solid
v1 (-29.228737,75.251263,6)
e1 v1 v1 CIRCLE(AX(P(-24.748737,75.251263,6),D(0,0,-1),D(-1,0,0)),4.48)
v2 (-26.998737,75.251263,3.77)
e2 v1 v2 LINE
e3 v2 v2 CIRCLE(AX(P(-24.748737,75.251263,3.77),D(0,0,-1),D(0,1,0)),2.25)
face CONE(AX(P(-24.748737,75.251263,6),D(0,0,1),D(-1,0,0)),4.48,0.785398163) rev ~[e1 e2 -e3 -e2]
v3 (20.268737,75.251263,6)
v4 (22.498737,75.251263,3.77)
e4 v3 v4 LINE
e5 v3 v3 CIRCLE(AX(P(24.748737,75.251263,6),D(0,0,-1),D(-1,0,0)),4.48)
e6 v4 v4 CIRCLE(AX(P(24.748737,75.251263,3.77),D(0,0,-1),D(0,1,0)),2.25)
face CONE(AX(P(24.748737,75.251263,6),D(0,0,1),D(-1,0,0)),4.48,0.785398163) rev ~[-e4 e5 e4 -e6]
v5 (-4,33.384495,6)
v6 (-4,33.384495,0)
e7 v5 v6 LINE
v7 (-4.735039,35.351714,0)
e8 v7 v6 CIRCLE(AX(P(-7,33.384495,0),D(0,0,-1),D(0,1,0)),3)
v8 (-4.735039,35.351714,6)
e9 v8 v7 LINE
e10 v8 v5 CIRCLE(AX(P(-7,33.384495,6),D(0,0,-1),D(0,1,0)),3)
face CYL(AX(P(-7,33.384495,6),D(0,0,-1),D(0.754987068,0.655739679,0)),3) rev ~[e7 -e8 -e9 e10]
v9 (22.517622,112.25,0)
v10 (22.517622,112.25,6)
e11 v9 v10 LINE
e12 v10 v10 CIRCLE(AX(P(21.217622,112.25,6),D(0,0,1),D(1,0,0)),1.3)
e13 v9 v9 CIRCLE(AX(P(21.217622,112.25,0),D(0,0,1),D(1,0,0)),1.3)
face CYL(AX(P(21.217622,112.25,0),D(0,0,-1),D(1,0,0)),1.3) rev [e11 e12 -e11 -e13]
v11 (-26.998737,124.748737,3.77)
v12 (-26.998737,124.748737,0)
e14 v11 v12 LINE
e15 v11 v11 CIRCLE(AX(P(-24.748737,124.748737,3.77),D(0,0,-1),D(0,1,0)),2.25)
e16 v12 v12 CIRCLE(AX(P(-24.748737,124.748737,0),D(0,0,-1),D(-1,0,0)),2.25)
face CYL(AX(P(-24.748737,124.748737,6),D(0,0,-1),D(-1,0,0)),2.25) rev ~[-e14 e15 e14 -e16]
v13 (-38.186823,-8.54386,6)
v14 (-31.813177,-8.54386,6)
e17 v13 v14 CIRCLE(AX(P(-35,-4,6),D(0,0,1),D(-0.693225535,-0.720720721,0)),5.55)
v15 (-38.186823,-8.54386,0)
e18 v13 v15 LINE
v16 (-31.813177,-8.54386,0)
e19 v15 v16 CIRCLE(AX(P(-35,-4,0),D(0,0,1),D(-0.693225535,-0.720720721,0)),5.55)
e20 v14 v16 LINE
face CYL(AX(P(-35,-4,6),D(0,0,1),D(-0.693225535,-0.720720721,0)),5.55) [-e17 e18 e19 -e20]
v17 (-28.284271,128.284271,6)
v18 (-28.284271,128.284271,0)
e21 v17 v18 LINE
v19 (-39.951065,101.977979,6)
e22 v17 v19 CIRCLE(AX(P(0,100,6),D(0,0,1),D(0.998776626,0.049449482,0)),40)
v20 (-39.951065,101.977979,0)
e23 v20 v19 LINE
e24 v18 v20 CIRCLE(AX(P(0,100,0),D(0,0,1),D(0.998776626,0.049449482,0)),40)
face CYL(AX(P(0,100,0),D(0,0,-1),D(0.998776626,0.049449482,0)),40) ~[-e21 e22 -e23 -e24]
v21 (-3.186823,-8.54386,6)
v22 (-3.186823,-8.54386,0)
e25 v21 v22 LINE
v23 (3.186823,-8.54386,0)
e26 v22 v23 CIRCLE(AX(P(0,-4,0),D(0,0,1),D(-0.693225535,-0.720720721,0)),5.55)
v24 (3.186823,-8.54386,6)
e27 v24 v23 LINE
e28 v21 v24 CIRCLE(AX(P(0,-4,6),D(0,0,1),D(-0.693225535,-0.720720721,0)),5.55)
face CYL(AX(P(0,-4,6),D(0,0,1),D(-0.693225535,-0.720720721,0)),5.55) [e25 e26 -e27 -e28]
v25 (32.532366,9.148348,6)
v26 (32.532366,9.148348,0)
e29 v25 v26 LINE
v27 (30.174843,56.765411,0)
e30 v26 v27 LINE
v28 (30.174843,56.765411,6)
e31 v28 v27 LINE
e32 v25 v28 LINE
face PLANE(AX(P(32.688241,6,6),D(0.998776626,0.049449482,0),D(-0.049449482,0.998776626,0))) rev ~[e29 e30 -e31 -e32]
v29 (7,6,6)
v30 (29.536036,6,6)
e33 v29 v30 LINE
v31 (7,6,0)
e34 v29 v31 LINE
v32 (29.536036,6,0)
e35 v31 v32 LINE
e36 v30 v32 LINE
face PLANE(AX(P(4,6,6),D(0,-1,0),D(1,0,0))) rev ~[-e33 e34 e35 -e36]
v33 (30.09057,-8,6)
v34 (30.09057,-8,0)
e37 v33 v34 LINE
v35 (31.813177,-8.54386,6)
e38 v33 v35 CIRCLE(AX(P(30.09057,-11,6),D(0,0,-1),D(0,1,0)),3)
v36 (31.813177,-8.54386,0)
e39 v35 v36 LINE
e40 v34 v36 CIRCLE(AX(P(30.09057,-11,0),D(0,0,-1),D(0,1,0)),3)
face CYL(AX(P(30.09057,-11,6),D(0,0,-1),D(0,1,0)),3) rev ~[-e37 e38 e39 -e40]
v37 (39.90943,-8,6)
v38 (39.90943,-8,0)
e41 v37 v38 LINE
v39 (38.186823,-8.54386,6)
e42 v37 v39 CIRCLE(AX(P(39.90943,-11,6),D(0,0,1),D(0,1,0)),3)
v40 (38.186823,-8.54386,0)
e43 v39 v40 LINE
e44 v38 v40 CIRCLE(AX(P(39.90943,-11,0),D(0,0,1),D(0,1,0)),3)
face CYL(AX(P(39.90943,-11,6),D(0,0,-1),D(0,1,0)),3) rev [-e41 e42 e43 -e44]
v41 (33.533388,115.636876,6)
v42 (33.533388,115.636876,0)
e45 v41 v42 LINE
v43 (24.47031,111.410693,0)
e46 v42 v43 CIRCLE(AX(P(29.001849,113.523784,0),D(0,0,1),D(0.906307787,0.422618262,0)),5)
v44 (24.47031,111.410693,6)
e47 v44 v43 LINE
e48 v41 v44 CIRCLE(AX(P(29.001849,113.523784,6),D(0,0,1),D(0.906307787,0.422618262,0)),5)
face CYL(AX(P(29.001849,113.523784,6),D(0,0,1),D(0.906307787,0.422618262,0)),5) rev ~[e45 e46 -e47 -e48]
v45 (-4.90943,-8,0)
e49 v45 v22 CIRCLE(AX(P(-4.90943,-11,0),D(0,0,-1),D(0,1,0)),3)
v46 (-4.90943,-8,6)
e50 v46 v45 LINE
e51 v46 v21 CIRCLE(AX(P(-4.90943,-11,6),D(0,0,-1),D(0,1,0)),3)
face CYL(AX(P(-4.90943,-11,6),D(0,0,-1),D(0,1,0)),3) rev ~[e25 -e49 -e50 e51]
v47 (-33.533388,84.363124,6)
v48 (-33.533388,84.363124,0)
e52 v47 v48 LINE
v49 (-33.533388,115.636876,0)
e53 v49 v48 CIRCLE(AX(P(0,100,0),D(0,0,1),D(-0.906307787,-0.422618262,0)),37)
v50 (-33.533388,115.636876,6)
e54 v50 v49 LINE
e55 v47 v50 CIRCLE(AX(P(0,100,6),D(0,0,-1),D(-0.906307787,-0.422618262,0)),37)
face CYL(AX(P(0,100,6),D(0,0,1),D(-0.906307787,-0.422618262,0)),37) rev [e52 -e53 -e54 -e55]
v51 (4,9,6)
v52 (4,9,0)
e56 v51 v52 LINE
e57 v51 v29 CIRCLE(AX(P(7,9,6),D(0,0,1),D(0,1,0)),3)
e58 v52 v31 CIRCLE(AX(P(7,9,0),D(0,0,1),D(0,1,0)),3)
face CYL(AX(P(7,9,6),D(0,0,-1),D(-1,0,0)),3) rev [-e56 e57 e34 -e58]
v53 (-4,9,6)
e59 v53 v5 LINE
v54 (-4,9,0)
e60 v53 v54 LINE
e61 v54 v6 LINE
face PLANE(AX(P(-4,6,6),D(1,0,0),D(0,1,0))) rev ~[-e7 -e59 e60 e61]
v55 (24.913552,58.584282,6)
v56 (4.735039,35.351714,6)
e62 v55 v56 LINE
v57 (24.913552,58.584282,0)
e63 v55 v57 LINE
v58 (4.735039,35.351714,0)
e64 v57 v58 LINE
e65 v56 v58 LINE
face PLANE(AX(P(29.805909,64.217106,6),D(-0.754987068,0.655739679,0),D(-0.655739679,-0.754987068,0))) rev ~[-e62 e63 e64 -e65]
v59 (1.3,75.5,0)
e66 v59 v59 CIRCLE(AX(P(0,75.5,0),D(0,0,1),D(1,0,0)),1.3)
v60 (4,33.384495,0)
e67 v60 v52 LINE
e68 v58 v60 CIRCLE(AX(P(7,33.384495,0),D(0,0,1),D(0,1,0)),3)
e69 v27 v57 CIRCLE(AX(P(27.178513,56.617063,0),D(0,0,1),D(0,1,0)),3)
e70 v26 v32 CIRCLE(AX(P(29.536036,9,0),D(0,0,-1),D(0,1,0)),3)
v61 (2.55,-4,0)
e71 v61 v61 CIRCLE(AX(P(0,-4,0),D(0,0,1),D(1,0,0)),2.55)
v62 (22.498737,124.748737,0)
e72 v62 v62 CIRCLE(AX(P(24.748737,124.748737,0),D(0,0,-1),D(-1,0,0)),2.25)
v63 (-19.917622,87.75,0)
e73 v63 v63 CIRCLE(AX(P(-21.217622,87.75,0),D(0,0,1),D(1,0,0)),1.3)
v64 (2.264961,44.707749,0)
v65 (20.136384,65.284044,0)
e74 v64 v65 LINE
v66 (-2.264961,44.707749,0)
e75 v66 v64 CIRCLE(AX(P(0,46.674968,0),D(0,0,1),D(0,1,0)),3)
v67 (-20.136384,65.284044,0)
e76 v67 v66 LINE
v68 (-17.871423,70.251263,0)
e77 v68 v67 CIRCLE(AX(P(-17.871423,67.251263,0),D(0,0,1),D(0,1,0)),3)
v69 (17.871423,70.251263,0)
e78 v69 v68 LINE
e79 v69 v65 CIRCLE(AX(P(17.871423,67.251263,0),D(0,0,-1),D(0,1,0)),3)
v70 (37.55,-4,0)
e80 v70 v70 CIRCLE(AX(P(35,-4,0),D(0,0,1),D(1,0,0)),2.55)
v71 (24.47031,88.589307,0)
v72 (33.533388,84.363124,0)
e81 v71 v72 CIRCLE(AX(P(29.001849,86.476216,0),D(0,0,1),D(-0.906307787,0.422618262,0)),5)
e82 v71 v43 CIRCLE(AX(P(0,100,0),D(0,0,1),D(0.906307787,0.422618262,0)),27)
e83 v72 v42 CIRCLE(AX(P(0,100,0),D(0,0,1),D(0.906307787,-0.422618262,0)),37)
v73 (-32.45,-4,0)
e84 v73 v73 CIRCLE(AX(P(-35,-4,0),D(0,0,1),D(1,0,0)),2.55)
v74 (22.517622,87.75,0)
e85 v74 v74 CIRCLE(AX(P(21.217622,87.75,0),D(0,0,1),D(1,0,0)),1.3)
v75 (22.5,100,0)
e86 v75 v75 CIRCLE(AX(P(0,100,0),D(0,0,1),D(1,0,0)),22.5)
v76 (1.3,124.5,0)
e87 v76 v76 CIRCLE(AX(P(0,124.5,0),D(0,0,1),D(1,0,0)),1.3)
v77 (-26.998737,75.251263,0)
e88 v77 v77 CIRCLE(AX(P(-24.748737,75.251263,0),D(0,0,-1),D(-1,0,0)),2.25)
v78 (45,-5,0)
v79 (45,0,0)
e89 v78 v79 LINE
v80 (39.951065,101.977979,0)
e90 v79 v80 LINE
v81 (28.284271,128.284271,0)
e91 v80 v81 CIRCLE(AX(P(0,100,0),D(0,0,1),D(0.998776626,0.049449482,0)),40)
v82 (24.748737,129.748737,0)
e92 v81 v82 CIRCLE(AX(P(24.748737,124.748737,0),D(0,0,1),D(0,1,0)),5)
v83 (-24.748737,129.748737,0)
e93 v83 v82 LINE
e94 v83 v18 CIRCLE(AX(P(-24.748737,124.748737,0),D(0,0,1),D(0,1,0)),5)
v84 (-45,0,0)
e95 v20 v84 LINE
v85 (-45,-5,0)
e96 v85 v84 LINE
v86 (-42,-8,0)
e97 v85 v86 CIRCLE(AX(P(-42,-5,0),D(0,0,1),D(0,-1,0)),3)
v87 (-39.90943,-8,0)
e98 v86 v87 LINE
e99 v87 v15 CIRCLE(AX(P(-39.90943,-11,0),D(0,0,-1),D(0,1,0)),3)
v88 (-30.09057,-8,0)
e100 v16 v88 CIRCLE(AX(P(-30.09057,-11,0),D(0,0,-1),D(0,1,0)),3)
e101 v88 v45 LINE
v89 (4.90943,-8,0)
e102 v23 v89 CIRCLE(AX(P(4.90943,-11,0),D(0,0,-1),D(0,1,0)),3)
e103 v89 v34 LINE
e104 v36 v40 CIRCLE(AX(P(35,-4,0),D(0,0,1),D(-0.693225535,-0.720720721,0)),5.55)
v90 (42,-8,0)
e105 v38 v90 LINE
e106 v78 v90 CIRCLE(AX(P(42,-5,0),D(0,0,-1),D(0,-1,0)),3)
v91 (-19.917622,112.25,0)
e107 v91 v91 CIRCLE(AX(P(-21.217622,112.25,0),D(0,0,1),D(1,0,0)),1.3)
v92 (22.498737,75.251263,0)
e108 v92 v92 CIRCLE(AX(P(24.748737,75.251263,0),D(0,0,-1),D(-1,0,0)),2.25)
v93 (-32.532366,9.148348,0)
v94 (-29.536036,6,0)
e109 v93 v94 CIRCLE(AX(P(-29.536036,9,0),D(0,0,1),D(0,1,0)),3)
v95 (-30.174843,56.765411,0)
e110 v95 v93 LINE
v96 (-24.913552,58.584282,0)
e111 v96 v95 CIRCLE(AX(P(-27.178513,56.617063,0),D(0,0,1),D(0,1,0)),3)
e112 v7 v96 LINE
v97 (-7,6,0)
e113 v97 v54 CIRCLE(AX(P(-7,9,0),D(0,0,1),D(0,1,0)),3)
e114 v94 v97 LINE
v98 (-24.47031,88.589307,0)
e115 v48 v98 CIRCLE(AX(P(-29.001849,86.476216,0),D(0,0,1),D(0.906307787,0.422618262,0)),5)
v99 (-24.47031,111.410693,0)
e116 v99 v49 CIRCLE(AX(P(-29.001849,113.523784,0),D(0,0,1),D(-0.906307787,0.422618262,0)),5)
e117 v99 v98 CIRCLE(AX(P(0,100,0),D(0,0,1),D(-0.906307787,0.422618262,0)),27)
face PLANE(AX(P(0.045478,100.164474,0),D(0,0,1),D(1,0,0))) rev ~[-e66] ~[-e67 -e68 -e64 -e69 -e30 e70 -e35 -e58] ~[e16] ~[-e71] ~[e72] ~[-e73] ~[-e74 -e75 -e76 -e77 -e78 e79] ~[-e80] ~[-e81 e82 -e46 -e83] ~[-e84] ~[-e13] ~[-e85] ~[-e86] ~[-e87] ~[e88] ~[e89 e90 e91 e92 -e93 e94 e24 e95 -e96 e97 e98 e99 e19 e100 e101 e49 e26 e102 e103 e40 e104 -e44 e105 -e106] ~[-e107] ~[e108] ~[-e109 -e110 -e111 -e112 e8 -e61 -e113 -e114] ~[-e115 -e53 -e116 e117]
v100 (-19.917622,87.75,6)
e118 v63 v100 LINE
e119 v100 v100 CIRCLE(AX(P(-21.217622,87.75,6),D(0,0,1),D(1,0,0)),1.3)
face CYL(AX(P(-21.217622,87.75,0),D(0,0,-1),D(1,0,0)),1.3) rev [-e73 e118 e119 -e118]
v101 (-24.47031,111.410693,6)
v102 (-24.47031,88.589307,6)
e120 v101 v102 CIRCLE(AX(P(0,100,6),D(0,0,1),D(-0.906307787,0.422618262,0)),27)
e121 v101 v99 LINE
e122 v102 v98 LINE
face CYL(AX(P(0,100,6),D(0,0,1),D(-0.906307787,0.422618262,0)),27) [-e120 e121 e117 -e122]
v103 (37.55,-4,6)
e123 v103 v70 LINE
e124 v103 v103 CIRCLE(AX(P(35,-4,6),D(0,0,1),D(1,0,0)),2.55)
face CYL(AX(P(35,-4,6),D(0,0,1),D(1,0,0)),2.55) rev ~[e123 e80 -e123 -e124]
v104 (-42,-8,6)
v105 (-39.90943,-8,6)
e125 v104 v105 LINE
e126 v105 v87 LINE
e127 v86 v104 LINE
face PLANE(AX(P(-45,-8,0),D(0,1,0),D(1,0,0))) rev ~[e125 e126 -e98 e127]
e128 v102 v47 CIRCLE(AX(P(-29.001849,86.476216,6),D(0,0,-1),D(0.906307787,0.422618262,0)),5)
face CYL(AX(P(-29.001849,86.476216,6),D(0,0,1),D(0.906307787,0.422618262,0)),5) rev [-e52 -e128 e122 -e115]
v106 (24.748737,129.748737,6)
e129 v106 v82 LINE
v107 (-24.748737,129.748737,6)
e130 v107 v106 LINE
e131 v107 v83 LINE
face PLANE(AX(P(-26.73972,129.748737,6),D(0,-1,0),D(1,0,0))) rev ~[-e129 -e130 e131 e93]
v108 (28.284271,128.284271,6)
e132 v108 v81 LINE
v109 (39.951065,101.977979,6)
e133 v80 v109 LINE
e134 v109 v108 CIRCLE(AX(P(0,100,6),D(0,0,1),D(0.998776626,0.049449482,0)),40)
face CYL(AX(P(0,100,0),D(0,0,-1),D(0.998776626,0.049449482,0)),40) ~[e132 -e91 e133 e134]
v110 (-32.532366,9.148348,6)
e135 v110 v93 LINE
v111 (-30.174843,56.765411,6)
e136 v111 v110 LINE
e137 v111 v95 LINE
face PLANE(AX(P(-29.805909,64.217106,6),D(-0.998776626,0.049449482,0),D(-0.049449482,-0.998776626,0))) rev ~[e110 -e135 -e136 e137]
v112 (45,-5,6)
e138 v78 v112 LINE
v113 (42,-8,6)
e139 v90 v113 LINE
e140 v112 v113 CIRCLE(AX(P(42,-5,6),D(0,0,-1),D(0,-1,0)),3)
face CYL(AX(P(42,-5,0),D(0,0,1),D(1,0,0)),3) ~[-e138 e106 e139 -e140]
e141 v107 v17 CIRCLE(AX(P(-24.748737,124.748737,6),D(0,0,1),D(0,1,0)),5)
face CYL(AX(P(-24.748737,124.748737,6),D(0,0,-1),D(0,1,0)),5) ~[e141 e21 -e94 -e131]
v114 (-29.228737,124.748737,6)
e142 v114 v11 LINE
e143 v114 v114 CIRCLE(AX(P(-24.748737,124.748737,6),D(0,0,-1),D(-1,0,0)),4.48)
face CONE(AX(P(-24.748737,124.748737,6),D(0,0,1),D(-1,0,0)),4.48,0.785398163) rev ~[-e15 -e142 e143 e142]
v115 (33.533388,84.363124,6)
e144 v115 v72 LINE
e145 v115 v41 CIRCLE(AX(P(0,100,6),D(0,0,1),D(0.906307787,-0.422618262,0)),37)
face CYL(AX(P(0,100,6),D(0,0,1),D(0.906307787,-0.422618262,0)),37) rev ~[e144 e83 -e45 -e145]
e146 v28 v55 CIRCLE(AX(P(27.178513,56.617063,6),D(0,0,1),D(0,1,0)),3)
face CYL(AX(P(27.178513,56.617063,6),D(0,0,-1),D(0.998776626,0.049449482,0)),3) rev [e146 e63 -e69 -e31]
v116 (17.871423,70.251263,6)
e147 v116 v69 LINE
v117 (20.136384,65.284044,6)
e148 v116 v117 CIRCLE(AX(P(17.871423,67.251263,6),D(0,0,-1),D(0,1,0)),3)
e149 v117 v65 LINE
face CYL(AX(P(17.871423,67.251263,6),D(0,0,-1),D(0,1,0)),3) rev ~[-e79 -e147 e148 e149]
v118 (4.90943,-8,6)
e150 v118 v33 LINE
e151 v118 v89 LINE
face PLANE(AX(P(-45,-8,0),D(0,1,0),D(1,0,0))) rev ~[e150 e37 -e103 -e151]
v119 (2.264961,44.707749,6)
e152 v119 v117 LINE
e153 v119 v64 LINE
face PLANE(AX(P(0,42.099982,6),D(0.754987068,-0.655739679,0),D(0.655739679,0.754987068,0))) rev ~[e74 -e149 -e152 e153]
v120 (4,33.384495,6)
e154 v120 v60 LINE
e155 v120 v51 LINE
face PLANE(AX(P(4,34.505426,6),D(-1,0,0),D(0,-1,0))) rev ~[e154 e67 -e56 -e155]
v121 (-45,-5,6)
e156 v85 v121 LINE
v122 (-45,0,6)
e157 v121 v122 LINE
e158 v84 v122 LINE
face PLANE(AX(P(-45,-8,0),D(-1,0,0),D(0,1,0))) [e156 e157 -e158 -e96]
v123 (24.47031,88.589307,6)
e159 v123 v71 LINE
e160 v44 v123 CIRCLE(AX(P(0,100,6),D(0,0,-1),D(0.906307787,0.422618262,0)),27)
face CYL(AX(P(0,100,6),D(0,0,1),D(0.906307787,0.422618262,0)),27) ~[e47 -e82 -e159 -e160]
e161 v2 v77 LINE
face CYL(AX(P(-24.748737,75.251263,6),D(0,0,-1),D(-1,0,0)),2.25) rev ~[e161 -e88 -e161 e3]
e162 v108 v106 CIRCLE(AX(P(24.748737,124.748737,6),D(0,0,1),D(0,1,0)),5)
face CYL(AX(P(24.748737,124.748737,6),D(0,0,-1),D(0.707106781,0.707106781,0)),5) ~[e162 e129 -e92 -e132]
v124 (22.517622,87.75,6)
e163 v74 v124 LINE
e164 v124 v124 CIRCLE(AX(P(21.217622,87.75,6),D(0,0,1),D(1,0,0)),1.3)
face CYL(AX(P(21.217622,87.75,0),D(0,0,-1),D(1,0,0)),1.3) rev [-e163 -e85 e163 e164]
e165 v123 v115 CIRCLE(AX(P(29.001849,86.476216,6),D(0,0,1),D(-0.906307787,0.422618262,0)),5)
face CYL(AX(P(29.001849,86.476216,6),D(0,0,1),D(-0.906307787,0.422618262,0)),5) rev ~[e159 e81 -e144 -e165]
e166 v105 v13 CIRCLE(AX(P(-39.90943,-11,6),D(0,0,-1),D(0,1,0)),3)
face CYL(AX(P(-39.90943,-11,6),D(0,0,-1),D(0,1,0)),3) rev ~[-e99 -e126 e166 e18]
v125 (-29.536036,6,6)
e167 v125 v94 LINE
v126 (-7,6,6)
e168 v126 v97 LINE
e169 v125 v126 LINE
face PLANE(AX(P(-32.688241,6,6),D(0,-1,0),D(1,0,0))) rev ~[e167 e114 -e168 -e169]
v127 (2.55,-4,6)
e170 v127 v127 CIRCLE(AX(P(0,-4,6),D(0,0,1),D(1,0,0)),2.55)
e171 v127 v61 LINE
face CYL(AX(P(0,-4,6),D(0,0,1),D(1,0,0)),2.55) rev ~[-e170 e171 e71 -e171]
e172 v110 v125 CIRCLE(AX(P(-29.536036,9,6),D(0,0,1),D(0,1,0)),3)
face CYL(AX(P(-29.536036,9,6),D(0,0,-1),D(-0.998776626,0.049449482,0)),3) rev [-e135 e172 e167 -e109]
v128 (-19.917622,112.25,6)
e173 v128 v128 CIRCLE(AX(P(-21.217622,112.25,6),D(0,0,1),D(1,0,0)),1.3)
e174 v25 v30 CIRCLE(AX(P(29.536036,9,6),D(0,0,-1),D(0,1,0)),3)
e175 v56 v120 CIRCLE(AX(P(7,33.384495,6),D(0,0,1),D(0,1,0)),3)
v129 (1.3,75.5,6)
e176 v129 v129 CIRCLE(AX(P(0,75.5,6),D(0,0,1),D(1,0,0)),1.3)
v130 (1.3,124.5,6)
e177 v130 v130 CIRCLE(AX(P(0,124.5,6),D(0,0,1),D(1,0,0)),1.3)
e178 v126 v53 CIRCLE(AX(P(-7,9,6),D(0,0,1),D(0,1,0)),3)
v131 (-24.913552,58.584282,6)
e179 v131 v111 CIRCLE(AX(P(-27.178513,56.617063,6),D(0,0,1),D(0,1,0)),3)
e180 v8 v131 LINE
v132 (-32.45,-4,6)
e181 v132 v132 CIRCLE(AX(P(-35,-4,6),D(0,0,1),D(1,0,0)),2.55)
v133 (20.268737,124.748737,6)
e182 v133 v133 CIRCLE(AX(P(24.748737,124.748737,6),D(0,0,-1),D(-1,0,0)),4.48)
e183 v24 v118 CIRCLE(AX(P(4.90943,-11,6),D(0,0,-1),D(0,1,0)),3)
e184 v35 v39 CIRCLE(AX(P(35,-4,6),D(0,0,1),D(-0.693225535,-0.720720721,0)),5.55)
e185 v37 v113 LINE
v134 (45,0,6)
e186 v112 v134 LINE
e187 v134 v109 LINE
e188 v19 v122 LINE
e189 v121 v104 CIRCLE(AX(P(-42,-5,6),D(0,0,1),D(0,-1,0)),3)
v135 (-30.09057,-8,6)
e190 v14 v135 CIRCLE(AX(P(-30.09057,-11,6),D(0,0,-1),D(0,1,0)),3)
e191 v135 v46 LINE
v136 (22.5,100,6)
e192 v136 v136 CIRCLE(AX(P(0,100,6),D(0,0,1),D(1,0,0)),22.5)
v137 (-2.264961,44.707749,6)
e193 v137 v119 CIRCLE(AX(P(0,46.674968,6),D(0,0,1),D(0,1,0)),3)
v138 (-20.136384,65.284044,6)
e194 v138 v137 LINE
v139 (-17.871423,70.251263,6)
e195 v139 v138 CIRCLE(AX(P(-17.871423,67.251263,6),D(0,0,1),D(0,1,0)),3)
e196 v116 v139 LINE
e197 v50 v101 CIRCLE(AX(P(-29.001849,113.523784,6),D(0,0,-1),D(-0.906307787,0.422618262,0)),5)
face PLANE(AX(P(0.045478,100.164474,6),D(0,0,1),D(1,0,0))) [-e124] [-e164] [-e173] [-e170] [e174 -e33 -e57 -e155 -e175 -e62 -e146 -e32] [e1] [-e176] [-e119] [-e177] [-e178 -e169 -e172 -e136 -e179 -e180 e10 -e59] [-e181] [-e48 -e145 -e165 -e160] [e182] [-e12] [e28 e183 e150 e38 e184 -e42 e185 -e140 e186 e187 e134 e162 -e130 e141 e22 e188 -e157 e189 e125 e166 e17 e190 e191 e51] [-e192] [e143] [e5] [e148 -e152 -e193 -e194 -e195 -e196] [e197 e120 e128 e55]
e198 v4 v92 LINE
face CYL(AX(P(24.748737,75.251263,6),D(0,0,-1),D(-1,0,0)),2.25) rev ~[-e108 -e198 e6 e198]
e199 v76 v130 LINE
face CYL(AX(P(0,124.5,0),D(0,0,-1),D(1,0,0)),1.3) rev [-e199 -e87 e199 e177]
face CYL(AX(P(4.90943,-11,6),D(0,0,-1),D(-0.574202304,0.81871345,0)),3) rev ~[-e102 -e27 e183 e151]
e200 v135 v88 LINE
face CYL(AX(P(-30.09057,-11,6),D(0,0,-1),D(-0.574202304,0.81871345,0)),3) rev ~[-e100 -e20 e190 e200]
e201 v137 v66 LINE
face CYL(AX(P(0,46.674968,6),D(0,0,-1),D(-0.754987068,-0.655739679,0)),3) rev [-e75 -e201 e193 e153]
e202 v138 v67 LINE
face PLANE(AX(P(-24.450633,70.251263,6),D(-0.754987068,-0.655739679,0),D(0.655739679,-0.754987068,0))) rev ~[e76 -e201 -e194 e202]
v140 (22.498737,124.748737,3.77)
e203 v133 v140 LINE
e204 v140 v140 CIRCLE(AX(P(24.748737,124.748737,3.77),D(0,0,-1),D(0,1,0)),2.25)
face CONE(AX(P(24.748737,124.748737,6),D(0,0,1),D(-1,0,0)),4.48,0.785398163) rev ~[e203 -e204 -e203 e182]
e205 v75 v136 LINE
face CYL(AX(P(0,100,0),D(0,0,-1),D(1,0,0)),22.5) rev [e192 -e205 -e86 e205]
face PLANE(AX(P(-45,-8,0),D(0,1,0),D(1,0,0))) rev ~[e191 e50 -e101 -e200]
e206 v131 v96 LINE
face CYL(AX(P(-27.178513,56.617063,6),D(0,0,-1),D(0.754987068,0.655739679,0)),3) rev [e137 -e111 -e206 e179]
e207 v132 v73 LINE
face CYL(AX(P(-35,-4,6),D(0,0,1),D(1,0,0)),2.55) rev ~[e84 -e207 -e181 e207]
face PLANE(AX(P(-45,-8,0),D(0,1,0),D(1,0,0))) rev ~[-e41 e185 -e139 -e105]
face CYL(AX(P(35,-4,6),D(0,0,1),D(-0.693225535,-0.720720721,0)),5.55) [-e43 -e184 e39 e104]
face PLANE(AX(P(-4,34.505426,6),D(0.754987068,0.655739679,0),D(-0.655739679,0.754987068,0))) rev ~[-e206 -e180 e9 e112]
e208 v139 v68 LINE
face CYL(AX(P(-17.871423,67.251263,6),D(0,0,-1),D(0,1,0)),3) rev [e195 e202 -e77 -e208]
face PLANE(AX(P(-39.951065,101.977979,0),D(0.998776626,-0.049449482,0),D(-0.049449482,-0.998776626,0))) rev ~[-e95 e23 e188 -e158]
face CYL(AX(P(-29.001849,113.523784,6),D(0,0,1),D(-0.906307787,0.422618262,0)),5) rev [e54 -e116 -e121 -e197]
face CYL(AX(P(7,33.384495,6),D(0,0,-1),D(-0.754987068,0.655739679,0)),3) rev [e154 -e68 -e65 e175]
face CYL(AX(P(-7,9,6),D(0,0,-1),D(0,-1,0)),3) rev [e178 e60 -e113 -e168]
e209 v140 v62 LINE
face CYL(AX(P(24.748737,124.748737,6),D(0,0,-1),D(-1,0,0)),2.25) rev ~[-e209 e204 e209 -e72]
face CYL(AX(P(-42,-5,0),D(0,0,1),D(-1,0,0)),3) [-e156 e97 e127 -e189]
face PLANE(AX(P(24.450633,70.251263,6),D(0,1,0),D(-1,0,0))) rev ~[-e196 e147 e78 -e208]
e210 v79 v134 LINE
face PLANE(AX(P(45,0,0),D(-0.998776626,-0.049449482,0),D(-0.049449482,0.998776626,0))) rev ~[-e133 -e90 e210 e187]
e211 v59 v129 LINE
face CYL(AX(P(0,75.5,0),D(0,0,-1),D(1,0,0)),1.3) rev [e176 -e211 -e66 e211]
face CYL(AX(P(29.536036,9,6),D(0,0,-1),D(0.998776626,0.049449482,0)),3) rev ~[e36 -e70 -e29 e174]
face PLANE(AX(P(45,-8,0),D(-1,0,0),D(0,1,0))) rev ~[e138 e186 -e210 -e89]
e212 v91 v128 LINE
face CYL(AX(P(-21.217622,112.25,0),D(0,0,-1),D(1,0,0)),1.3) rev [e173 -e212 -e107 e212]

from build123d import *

# Parameters (mm, degrees)
SKETCH_1_W                   = 90
SKETCH_1_H                   = 8
SKETCH_1_R                   = 2.1
SKETCH_1_R_2                 = 1.3
SKETCH_1_R_3                 = 22.5
EXTRUDE_1_DEPTH              = 6
HOLE_WIZARD_M4_1_D           = 4.5
HOLE_WIZARD_M4_1_DEPTH       = 11.4
HOLE_WIZARD_M4_1_CSINK_D     = 8.96
HOLE_WIZARD_M4_1_CSINK_ANGLE = 90
HOLE_WIZARD_M4_1_TIP         = 1.351936393
SKETCH_4_R                   = 2.55
CUT_EXTRUDE_1_DEPTH          = 148.17676447
EXTRUDE_2_DEPTH              = 6
CUT_EXTRUDE_3_DEPTH          = 148.17676447
FILLET_1_R                   = 5
FILLET_2_R                   = 3
FILLET_4_R                   = 3
CUT_EXTRUDE_4_DEPTH          = 138.461757743


with BuildPart() as part:
    # 草图1 → 凸台-拉伸1 (new body)
    # profile 1 of 3: a face of its own
    with BuildSketch(Plane.XY):
        with BuildLine():
            Line((-39.951065042, 101.977979269), (-45, 0))
            Line((-45, 0), (45, 0))
            Line((45, 0), (39.951065042, 101.977979269))
            ThreePointArc((39.951065042, 101.977979269), (39.987764389, 100.989292249), (40, 100))
            ThreePointArc((40, 100), (-0.989292249, 60.012235611), (-39.951065042, 101.977979269))
        make_face()
    # profile 2 of 3: a face of its own
    with BuildSketch(Plane.XY):
        with Locations((0, -4)):
            Rectangle(SKETCH_1_W, SKETCH_1_H)
    # profile 3 of 3: a face of its own
    with BuildSketch(Plane.XY):
        with BuildLine():
            ThreePointArc((39.951065042, 101.977979269), (0, 140), (-39.951065042, 101.977979269))
            ThreePointArc((-39.951065042, 101.977979269), (-0.989292249, 60.012235611), (40, 100))
            ThreePointArc((40, 100), (39.987764389, 100.989292249), (39.951065042, 101.977979269))
        make_face()
        with Locations((-24.748737342, 75.251262658)):
            Circle(SKETCH_1_R, mode=Mode.SUBTRACT)
        with Locations((-21.217622393, 87.75)):
            Circle(SKETCH_1_R_2, mode=Mode.SUBTRACT)
        with Locations((-24.748737342, 124.748737342)):
            Circle(SKETCH_1_R, mode=Mode.SUBTRACT)
        with Locations((-21.217622393, 112.25)):
            Circle(SKETCH_1_R_2, mode=Mode.SUBTRACT)
        with Locations((0, 75.5)):
            Circle(SKETCH_1_R_2, mode=Mode.SUBTRACT)
        with Locations((0, 100)):
            Circle(SKETCH_1_R_3, mode=Mode.SUBTRACT)
        with Locations((21.217622393, 87.75)):
            Circle(SKETCH_1_R_2, mode=Mode.SUBTRACT)
        with Locations((24.748737342, 75.251262658)):
            Circle(SKETCH_1_R, mode=Mode.SUBTRACT)
        with Locations((21.217622393, 112.25)):
            Circle(SKETCH_1_R_2, mode=Mode.SUBTRACT)
        with Locations((0, 124.5)):
            Circle(SKETCH_1_R_2, mode=Mode.SUBTRACT)
        with Locations((24.748737342, 124.748737342)):
            Circle(SKETCH_1_R, mode=Mode.SUBTRACT)
    extrude(amount=EXTRUDE_1_DEPTH)

    # M4 六角凹锥坑螺钉的锥形沉头孔1
    with Locations(Plane.XY.offset(6)):
        with Locations((-24.748737342, 124.748737342), (24.748737342, 124.748737342), (24.748737342, 75.251262658), (-24.748737342, 75.251262658)):
            CounterSinkHole(HOLE_WIZARD_M4_1_D / 2, HOLE_WIZARD_M4_1_CSINK_D / 2, depth=HOLE_WIZARD_M4_1_DEPTH, counter_sink_angle=HOLE_WIZARD_M4_1_CSINK_ANGLE)
            with Locations((0, 0, -(HOLE_WIZARD_M4_1_DEPTH + HOLE_WIZARD_M4_1_TIP / 2))):  # 118° drill point
                Cone(0, HOLE_WIZARD_M4_1_D / 2, HOLE_WIZARD_M4_1_TIP, mode=Mode.SUBTRACT)

    # 草图4 → 切除-拉伸1 (cut, through all)
    with BuildSketch(Plane.XY.offset(6)):
        with Locations((-35, -4)):
            Circle(SKETCH_4_R)
        with Locations((0, -4)):
            Circle(SKETCH_4_R)
        with Locations((35, -4)):
            Circle(SKETCH_4_R)
    extrude(amount=-CUT_EXTRUDE_1_DEPTH, mode=Mode.SUBTRACT)

    # 草图5 → 凸台-拉伸2 (add)
    with BuildSketch(Plane.XY.offset(6)):
        with BuildLine():
            ThreePointArc((-38.847401721, -8), (-35, -9.55), (-31.152598279, -8))
            Line((-31.152598279, -8), (-38.847401721, -8))
        make_face()
        with BuildLine():
            ThreePointArc((-3.847401721, -8), (0, -9.55), (3.847401721, -8))
            Line((3.847401721, -8), (-3.847401721, -8))
        make_face()
        with BuildLine():
            ThreePointArc((31.152598279, -8), (35, -9.55), (38.847401721, -8))
            Line((38.847401721, -8), (31.152598279, -8))
        make_face()
    extrude(amount=-EXTRUDE_2_DEPTH)

    # 草图6 → 切除-拉伸3 (cut, through all)
    with BuildSketch(Plane.XY.offset(6)):
        with BuildLine():
            ThreePointArc((26.739720017, 129.748737342), (0, 140), (-26.739720017, 129.748737342))
            Line((-26.739720017, 129.748737342), (26.739720017, 129.748737342))
        make_face()
        Polygon((32.688241225, 6), (29.805909331, 64.217106098), (4, 34.505425616), (4, 6), align=None)
        Polygon((-4, 34.505425616), (-29.805909331, 64.217106098), (-32.688241225, 6), (-4, 6), align=None)
        Polygon((24.450633349, 70.251262658), (-24.450633349, 70.251262658), (0, 42.099981634), align=None)
    extrude(amount=-CUT_EXTRUDE_3_DEPTH, mode=Mode.SUBTRACT)

    # 圆角1
    fillet_1_edges = [part.edges().sort_by_distance(p)[0] for p in [
        (-26.739720017, 129.748737342, 3),
        (26.739720017, 129.748737342, 3),
    ]]
    fillet(fillet_1_edges, radius=FILLET_1_R)

    # 圆角2
    fillet_2_edges = [part.edges().sort_by_distance(p)[0] for p in [
        (24.450633349, 70.251262658, 3),
        (0, 42.099981634, 3),
        (-24.450633349, 70.251262658, 3),
        (-4, 34.505425616, 3),
        (-4, 6, 3),
        (-32.688241225, 6, 3),
        (-29.805909331, 64.217106098, 3),
        (4, 34.505425616, 3),
        (29.805909331, 64.217106098, 3),
        (32.688241225, 6, 3),
        (4, 6, 3),
    ]]
    fillet(fillet_2_edges, radius=FILLET_2_R)

    # 圆角4
    fillet_4_edges = [part.edges().sort_by_distance(p)[0] for p in [
        (-38.847401721, -8, 3),
        (-31.152598279, -8, 3),
        (-3.847401721, -8, 3),
        (3.847401721, -8, 3),
        (31.152598279, -8, 3),
        (38.847401721, -8, 3),
        (45, 0, 3),
        (45, -8, 3),
        (-45, -8, 3),
        (-45, 0, 3),
    ]]
    fillet(fillet_4_edges, radius=FILLET_4_R)

    # 草图7 → 切除-拉伸4 (cut, through all)
    with BuildSketch(Plane.XY.offset(6)):
        with BuildLine():
            ThreePointArc((33.53338812, 84.363124316), (37, 100), (33.53338812, 115.636875684))
            ThreePointArc((33.53338812, 115.636875684), (26.888757876, 118.055323311), (24.47031025, 111.410693067))
            ThreePointArc((24.47031025, 111.410693067), (27, 100), (24.47031025, 88.589306933))
            ThreePointArc((24.47031025, 88.589306933), (26.888757876, 81.944676689), (33.53338812, 84.363124316))
        make_face()
        with BuildLine():
            ThreePointArc((-33.53338812, 84.363124316), (-37, 100), (-33.53338812, 115.636875684))
            ThreePointArc((-33.53338812, 115.636875684), (-26.888757876, 118.055323311), (-24.47031025, 111.410693067))
            ThreePointArc((-24.47031025, 111.410693067), (-27, 100), (-24.47031025, 88.589306933))
            ThreePointArc((-24.47031025, 88.589306933), (-26.888757876, 81.944676689), (-33.53338812, 84.363124316))
        make_face()
    extrude(amount=-CUT_EXTRUDE_4_DEPTH, mode=Mode.SUBTRACT)


solid = part.part
